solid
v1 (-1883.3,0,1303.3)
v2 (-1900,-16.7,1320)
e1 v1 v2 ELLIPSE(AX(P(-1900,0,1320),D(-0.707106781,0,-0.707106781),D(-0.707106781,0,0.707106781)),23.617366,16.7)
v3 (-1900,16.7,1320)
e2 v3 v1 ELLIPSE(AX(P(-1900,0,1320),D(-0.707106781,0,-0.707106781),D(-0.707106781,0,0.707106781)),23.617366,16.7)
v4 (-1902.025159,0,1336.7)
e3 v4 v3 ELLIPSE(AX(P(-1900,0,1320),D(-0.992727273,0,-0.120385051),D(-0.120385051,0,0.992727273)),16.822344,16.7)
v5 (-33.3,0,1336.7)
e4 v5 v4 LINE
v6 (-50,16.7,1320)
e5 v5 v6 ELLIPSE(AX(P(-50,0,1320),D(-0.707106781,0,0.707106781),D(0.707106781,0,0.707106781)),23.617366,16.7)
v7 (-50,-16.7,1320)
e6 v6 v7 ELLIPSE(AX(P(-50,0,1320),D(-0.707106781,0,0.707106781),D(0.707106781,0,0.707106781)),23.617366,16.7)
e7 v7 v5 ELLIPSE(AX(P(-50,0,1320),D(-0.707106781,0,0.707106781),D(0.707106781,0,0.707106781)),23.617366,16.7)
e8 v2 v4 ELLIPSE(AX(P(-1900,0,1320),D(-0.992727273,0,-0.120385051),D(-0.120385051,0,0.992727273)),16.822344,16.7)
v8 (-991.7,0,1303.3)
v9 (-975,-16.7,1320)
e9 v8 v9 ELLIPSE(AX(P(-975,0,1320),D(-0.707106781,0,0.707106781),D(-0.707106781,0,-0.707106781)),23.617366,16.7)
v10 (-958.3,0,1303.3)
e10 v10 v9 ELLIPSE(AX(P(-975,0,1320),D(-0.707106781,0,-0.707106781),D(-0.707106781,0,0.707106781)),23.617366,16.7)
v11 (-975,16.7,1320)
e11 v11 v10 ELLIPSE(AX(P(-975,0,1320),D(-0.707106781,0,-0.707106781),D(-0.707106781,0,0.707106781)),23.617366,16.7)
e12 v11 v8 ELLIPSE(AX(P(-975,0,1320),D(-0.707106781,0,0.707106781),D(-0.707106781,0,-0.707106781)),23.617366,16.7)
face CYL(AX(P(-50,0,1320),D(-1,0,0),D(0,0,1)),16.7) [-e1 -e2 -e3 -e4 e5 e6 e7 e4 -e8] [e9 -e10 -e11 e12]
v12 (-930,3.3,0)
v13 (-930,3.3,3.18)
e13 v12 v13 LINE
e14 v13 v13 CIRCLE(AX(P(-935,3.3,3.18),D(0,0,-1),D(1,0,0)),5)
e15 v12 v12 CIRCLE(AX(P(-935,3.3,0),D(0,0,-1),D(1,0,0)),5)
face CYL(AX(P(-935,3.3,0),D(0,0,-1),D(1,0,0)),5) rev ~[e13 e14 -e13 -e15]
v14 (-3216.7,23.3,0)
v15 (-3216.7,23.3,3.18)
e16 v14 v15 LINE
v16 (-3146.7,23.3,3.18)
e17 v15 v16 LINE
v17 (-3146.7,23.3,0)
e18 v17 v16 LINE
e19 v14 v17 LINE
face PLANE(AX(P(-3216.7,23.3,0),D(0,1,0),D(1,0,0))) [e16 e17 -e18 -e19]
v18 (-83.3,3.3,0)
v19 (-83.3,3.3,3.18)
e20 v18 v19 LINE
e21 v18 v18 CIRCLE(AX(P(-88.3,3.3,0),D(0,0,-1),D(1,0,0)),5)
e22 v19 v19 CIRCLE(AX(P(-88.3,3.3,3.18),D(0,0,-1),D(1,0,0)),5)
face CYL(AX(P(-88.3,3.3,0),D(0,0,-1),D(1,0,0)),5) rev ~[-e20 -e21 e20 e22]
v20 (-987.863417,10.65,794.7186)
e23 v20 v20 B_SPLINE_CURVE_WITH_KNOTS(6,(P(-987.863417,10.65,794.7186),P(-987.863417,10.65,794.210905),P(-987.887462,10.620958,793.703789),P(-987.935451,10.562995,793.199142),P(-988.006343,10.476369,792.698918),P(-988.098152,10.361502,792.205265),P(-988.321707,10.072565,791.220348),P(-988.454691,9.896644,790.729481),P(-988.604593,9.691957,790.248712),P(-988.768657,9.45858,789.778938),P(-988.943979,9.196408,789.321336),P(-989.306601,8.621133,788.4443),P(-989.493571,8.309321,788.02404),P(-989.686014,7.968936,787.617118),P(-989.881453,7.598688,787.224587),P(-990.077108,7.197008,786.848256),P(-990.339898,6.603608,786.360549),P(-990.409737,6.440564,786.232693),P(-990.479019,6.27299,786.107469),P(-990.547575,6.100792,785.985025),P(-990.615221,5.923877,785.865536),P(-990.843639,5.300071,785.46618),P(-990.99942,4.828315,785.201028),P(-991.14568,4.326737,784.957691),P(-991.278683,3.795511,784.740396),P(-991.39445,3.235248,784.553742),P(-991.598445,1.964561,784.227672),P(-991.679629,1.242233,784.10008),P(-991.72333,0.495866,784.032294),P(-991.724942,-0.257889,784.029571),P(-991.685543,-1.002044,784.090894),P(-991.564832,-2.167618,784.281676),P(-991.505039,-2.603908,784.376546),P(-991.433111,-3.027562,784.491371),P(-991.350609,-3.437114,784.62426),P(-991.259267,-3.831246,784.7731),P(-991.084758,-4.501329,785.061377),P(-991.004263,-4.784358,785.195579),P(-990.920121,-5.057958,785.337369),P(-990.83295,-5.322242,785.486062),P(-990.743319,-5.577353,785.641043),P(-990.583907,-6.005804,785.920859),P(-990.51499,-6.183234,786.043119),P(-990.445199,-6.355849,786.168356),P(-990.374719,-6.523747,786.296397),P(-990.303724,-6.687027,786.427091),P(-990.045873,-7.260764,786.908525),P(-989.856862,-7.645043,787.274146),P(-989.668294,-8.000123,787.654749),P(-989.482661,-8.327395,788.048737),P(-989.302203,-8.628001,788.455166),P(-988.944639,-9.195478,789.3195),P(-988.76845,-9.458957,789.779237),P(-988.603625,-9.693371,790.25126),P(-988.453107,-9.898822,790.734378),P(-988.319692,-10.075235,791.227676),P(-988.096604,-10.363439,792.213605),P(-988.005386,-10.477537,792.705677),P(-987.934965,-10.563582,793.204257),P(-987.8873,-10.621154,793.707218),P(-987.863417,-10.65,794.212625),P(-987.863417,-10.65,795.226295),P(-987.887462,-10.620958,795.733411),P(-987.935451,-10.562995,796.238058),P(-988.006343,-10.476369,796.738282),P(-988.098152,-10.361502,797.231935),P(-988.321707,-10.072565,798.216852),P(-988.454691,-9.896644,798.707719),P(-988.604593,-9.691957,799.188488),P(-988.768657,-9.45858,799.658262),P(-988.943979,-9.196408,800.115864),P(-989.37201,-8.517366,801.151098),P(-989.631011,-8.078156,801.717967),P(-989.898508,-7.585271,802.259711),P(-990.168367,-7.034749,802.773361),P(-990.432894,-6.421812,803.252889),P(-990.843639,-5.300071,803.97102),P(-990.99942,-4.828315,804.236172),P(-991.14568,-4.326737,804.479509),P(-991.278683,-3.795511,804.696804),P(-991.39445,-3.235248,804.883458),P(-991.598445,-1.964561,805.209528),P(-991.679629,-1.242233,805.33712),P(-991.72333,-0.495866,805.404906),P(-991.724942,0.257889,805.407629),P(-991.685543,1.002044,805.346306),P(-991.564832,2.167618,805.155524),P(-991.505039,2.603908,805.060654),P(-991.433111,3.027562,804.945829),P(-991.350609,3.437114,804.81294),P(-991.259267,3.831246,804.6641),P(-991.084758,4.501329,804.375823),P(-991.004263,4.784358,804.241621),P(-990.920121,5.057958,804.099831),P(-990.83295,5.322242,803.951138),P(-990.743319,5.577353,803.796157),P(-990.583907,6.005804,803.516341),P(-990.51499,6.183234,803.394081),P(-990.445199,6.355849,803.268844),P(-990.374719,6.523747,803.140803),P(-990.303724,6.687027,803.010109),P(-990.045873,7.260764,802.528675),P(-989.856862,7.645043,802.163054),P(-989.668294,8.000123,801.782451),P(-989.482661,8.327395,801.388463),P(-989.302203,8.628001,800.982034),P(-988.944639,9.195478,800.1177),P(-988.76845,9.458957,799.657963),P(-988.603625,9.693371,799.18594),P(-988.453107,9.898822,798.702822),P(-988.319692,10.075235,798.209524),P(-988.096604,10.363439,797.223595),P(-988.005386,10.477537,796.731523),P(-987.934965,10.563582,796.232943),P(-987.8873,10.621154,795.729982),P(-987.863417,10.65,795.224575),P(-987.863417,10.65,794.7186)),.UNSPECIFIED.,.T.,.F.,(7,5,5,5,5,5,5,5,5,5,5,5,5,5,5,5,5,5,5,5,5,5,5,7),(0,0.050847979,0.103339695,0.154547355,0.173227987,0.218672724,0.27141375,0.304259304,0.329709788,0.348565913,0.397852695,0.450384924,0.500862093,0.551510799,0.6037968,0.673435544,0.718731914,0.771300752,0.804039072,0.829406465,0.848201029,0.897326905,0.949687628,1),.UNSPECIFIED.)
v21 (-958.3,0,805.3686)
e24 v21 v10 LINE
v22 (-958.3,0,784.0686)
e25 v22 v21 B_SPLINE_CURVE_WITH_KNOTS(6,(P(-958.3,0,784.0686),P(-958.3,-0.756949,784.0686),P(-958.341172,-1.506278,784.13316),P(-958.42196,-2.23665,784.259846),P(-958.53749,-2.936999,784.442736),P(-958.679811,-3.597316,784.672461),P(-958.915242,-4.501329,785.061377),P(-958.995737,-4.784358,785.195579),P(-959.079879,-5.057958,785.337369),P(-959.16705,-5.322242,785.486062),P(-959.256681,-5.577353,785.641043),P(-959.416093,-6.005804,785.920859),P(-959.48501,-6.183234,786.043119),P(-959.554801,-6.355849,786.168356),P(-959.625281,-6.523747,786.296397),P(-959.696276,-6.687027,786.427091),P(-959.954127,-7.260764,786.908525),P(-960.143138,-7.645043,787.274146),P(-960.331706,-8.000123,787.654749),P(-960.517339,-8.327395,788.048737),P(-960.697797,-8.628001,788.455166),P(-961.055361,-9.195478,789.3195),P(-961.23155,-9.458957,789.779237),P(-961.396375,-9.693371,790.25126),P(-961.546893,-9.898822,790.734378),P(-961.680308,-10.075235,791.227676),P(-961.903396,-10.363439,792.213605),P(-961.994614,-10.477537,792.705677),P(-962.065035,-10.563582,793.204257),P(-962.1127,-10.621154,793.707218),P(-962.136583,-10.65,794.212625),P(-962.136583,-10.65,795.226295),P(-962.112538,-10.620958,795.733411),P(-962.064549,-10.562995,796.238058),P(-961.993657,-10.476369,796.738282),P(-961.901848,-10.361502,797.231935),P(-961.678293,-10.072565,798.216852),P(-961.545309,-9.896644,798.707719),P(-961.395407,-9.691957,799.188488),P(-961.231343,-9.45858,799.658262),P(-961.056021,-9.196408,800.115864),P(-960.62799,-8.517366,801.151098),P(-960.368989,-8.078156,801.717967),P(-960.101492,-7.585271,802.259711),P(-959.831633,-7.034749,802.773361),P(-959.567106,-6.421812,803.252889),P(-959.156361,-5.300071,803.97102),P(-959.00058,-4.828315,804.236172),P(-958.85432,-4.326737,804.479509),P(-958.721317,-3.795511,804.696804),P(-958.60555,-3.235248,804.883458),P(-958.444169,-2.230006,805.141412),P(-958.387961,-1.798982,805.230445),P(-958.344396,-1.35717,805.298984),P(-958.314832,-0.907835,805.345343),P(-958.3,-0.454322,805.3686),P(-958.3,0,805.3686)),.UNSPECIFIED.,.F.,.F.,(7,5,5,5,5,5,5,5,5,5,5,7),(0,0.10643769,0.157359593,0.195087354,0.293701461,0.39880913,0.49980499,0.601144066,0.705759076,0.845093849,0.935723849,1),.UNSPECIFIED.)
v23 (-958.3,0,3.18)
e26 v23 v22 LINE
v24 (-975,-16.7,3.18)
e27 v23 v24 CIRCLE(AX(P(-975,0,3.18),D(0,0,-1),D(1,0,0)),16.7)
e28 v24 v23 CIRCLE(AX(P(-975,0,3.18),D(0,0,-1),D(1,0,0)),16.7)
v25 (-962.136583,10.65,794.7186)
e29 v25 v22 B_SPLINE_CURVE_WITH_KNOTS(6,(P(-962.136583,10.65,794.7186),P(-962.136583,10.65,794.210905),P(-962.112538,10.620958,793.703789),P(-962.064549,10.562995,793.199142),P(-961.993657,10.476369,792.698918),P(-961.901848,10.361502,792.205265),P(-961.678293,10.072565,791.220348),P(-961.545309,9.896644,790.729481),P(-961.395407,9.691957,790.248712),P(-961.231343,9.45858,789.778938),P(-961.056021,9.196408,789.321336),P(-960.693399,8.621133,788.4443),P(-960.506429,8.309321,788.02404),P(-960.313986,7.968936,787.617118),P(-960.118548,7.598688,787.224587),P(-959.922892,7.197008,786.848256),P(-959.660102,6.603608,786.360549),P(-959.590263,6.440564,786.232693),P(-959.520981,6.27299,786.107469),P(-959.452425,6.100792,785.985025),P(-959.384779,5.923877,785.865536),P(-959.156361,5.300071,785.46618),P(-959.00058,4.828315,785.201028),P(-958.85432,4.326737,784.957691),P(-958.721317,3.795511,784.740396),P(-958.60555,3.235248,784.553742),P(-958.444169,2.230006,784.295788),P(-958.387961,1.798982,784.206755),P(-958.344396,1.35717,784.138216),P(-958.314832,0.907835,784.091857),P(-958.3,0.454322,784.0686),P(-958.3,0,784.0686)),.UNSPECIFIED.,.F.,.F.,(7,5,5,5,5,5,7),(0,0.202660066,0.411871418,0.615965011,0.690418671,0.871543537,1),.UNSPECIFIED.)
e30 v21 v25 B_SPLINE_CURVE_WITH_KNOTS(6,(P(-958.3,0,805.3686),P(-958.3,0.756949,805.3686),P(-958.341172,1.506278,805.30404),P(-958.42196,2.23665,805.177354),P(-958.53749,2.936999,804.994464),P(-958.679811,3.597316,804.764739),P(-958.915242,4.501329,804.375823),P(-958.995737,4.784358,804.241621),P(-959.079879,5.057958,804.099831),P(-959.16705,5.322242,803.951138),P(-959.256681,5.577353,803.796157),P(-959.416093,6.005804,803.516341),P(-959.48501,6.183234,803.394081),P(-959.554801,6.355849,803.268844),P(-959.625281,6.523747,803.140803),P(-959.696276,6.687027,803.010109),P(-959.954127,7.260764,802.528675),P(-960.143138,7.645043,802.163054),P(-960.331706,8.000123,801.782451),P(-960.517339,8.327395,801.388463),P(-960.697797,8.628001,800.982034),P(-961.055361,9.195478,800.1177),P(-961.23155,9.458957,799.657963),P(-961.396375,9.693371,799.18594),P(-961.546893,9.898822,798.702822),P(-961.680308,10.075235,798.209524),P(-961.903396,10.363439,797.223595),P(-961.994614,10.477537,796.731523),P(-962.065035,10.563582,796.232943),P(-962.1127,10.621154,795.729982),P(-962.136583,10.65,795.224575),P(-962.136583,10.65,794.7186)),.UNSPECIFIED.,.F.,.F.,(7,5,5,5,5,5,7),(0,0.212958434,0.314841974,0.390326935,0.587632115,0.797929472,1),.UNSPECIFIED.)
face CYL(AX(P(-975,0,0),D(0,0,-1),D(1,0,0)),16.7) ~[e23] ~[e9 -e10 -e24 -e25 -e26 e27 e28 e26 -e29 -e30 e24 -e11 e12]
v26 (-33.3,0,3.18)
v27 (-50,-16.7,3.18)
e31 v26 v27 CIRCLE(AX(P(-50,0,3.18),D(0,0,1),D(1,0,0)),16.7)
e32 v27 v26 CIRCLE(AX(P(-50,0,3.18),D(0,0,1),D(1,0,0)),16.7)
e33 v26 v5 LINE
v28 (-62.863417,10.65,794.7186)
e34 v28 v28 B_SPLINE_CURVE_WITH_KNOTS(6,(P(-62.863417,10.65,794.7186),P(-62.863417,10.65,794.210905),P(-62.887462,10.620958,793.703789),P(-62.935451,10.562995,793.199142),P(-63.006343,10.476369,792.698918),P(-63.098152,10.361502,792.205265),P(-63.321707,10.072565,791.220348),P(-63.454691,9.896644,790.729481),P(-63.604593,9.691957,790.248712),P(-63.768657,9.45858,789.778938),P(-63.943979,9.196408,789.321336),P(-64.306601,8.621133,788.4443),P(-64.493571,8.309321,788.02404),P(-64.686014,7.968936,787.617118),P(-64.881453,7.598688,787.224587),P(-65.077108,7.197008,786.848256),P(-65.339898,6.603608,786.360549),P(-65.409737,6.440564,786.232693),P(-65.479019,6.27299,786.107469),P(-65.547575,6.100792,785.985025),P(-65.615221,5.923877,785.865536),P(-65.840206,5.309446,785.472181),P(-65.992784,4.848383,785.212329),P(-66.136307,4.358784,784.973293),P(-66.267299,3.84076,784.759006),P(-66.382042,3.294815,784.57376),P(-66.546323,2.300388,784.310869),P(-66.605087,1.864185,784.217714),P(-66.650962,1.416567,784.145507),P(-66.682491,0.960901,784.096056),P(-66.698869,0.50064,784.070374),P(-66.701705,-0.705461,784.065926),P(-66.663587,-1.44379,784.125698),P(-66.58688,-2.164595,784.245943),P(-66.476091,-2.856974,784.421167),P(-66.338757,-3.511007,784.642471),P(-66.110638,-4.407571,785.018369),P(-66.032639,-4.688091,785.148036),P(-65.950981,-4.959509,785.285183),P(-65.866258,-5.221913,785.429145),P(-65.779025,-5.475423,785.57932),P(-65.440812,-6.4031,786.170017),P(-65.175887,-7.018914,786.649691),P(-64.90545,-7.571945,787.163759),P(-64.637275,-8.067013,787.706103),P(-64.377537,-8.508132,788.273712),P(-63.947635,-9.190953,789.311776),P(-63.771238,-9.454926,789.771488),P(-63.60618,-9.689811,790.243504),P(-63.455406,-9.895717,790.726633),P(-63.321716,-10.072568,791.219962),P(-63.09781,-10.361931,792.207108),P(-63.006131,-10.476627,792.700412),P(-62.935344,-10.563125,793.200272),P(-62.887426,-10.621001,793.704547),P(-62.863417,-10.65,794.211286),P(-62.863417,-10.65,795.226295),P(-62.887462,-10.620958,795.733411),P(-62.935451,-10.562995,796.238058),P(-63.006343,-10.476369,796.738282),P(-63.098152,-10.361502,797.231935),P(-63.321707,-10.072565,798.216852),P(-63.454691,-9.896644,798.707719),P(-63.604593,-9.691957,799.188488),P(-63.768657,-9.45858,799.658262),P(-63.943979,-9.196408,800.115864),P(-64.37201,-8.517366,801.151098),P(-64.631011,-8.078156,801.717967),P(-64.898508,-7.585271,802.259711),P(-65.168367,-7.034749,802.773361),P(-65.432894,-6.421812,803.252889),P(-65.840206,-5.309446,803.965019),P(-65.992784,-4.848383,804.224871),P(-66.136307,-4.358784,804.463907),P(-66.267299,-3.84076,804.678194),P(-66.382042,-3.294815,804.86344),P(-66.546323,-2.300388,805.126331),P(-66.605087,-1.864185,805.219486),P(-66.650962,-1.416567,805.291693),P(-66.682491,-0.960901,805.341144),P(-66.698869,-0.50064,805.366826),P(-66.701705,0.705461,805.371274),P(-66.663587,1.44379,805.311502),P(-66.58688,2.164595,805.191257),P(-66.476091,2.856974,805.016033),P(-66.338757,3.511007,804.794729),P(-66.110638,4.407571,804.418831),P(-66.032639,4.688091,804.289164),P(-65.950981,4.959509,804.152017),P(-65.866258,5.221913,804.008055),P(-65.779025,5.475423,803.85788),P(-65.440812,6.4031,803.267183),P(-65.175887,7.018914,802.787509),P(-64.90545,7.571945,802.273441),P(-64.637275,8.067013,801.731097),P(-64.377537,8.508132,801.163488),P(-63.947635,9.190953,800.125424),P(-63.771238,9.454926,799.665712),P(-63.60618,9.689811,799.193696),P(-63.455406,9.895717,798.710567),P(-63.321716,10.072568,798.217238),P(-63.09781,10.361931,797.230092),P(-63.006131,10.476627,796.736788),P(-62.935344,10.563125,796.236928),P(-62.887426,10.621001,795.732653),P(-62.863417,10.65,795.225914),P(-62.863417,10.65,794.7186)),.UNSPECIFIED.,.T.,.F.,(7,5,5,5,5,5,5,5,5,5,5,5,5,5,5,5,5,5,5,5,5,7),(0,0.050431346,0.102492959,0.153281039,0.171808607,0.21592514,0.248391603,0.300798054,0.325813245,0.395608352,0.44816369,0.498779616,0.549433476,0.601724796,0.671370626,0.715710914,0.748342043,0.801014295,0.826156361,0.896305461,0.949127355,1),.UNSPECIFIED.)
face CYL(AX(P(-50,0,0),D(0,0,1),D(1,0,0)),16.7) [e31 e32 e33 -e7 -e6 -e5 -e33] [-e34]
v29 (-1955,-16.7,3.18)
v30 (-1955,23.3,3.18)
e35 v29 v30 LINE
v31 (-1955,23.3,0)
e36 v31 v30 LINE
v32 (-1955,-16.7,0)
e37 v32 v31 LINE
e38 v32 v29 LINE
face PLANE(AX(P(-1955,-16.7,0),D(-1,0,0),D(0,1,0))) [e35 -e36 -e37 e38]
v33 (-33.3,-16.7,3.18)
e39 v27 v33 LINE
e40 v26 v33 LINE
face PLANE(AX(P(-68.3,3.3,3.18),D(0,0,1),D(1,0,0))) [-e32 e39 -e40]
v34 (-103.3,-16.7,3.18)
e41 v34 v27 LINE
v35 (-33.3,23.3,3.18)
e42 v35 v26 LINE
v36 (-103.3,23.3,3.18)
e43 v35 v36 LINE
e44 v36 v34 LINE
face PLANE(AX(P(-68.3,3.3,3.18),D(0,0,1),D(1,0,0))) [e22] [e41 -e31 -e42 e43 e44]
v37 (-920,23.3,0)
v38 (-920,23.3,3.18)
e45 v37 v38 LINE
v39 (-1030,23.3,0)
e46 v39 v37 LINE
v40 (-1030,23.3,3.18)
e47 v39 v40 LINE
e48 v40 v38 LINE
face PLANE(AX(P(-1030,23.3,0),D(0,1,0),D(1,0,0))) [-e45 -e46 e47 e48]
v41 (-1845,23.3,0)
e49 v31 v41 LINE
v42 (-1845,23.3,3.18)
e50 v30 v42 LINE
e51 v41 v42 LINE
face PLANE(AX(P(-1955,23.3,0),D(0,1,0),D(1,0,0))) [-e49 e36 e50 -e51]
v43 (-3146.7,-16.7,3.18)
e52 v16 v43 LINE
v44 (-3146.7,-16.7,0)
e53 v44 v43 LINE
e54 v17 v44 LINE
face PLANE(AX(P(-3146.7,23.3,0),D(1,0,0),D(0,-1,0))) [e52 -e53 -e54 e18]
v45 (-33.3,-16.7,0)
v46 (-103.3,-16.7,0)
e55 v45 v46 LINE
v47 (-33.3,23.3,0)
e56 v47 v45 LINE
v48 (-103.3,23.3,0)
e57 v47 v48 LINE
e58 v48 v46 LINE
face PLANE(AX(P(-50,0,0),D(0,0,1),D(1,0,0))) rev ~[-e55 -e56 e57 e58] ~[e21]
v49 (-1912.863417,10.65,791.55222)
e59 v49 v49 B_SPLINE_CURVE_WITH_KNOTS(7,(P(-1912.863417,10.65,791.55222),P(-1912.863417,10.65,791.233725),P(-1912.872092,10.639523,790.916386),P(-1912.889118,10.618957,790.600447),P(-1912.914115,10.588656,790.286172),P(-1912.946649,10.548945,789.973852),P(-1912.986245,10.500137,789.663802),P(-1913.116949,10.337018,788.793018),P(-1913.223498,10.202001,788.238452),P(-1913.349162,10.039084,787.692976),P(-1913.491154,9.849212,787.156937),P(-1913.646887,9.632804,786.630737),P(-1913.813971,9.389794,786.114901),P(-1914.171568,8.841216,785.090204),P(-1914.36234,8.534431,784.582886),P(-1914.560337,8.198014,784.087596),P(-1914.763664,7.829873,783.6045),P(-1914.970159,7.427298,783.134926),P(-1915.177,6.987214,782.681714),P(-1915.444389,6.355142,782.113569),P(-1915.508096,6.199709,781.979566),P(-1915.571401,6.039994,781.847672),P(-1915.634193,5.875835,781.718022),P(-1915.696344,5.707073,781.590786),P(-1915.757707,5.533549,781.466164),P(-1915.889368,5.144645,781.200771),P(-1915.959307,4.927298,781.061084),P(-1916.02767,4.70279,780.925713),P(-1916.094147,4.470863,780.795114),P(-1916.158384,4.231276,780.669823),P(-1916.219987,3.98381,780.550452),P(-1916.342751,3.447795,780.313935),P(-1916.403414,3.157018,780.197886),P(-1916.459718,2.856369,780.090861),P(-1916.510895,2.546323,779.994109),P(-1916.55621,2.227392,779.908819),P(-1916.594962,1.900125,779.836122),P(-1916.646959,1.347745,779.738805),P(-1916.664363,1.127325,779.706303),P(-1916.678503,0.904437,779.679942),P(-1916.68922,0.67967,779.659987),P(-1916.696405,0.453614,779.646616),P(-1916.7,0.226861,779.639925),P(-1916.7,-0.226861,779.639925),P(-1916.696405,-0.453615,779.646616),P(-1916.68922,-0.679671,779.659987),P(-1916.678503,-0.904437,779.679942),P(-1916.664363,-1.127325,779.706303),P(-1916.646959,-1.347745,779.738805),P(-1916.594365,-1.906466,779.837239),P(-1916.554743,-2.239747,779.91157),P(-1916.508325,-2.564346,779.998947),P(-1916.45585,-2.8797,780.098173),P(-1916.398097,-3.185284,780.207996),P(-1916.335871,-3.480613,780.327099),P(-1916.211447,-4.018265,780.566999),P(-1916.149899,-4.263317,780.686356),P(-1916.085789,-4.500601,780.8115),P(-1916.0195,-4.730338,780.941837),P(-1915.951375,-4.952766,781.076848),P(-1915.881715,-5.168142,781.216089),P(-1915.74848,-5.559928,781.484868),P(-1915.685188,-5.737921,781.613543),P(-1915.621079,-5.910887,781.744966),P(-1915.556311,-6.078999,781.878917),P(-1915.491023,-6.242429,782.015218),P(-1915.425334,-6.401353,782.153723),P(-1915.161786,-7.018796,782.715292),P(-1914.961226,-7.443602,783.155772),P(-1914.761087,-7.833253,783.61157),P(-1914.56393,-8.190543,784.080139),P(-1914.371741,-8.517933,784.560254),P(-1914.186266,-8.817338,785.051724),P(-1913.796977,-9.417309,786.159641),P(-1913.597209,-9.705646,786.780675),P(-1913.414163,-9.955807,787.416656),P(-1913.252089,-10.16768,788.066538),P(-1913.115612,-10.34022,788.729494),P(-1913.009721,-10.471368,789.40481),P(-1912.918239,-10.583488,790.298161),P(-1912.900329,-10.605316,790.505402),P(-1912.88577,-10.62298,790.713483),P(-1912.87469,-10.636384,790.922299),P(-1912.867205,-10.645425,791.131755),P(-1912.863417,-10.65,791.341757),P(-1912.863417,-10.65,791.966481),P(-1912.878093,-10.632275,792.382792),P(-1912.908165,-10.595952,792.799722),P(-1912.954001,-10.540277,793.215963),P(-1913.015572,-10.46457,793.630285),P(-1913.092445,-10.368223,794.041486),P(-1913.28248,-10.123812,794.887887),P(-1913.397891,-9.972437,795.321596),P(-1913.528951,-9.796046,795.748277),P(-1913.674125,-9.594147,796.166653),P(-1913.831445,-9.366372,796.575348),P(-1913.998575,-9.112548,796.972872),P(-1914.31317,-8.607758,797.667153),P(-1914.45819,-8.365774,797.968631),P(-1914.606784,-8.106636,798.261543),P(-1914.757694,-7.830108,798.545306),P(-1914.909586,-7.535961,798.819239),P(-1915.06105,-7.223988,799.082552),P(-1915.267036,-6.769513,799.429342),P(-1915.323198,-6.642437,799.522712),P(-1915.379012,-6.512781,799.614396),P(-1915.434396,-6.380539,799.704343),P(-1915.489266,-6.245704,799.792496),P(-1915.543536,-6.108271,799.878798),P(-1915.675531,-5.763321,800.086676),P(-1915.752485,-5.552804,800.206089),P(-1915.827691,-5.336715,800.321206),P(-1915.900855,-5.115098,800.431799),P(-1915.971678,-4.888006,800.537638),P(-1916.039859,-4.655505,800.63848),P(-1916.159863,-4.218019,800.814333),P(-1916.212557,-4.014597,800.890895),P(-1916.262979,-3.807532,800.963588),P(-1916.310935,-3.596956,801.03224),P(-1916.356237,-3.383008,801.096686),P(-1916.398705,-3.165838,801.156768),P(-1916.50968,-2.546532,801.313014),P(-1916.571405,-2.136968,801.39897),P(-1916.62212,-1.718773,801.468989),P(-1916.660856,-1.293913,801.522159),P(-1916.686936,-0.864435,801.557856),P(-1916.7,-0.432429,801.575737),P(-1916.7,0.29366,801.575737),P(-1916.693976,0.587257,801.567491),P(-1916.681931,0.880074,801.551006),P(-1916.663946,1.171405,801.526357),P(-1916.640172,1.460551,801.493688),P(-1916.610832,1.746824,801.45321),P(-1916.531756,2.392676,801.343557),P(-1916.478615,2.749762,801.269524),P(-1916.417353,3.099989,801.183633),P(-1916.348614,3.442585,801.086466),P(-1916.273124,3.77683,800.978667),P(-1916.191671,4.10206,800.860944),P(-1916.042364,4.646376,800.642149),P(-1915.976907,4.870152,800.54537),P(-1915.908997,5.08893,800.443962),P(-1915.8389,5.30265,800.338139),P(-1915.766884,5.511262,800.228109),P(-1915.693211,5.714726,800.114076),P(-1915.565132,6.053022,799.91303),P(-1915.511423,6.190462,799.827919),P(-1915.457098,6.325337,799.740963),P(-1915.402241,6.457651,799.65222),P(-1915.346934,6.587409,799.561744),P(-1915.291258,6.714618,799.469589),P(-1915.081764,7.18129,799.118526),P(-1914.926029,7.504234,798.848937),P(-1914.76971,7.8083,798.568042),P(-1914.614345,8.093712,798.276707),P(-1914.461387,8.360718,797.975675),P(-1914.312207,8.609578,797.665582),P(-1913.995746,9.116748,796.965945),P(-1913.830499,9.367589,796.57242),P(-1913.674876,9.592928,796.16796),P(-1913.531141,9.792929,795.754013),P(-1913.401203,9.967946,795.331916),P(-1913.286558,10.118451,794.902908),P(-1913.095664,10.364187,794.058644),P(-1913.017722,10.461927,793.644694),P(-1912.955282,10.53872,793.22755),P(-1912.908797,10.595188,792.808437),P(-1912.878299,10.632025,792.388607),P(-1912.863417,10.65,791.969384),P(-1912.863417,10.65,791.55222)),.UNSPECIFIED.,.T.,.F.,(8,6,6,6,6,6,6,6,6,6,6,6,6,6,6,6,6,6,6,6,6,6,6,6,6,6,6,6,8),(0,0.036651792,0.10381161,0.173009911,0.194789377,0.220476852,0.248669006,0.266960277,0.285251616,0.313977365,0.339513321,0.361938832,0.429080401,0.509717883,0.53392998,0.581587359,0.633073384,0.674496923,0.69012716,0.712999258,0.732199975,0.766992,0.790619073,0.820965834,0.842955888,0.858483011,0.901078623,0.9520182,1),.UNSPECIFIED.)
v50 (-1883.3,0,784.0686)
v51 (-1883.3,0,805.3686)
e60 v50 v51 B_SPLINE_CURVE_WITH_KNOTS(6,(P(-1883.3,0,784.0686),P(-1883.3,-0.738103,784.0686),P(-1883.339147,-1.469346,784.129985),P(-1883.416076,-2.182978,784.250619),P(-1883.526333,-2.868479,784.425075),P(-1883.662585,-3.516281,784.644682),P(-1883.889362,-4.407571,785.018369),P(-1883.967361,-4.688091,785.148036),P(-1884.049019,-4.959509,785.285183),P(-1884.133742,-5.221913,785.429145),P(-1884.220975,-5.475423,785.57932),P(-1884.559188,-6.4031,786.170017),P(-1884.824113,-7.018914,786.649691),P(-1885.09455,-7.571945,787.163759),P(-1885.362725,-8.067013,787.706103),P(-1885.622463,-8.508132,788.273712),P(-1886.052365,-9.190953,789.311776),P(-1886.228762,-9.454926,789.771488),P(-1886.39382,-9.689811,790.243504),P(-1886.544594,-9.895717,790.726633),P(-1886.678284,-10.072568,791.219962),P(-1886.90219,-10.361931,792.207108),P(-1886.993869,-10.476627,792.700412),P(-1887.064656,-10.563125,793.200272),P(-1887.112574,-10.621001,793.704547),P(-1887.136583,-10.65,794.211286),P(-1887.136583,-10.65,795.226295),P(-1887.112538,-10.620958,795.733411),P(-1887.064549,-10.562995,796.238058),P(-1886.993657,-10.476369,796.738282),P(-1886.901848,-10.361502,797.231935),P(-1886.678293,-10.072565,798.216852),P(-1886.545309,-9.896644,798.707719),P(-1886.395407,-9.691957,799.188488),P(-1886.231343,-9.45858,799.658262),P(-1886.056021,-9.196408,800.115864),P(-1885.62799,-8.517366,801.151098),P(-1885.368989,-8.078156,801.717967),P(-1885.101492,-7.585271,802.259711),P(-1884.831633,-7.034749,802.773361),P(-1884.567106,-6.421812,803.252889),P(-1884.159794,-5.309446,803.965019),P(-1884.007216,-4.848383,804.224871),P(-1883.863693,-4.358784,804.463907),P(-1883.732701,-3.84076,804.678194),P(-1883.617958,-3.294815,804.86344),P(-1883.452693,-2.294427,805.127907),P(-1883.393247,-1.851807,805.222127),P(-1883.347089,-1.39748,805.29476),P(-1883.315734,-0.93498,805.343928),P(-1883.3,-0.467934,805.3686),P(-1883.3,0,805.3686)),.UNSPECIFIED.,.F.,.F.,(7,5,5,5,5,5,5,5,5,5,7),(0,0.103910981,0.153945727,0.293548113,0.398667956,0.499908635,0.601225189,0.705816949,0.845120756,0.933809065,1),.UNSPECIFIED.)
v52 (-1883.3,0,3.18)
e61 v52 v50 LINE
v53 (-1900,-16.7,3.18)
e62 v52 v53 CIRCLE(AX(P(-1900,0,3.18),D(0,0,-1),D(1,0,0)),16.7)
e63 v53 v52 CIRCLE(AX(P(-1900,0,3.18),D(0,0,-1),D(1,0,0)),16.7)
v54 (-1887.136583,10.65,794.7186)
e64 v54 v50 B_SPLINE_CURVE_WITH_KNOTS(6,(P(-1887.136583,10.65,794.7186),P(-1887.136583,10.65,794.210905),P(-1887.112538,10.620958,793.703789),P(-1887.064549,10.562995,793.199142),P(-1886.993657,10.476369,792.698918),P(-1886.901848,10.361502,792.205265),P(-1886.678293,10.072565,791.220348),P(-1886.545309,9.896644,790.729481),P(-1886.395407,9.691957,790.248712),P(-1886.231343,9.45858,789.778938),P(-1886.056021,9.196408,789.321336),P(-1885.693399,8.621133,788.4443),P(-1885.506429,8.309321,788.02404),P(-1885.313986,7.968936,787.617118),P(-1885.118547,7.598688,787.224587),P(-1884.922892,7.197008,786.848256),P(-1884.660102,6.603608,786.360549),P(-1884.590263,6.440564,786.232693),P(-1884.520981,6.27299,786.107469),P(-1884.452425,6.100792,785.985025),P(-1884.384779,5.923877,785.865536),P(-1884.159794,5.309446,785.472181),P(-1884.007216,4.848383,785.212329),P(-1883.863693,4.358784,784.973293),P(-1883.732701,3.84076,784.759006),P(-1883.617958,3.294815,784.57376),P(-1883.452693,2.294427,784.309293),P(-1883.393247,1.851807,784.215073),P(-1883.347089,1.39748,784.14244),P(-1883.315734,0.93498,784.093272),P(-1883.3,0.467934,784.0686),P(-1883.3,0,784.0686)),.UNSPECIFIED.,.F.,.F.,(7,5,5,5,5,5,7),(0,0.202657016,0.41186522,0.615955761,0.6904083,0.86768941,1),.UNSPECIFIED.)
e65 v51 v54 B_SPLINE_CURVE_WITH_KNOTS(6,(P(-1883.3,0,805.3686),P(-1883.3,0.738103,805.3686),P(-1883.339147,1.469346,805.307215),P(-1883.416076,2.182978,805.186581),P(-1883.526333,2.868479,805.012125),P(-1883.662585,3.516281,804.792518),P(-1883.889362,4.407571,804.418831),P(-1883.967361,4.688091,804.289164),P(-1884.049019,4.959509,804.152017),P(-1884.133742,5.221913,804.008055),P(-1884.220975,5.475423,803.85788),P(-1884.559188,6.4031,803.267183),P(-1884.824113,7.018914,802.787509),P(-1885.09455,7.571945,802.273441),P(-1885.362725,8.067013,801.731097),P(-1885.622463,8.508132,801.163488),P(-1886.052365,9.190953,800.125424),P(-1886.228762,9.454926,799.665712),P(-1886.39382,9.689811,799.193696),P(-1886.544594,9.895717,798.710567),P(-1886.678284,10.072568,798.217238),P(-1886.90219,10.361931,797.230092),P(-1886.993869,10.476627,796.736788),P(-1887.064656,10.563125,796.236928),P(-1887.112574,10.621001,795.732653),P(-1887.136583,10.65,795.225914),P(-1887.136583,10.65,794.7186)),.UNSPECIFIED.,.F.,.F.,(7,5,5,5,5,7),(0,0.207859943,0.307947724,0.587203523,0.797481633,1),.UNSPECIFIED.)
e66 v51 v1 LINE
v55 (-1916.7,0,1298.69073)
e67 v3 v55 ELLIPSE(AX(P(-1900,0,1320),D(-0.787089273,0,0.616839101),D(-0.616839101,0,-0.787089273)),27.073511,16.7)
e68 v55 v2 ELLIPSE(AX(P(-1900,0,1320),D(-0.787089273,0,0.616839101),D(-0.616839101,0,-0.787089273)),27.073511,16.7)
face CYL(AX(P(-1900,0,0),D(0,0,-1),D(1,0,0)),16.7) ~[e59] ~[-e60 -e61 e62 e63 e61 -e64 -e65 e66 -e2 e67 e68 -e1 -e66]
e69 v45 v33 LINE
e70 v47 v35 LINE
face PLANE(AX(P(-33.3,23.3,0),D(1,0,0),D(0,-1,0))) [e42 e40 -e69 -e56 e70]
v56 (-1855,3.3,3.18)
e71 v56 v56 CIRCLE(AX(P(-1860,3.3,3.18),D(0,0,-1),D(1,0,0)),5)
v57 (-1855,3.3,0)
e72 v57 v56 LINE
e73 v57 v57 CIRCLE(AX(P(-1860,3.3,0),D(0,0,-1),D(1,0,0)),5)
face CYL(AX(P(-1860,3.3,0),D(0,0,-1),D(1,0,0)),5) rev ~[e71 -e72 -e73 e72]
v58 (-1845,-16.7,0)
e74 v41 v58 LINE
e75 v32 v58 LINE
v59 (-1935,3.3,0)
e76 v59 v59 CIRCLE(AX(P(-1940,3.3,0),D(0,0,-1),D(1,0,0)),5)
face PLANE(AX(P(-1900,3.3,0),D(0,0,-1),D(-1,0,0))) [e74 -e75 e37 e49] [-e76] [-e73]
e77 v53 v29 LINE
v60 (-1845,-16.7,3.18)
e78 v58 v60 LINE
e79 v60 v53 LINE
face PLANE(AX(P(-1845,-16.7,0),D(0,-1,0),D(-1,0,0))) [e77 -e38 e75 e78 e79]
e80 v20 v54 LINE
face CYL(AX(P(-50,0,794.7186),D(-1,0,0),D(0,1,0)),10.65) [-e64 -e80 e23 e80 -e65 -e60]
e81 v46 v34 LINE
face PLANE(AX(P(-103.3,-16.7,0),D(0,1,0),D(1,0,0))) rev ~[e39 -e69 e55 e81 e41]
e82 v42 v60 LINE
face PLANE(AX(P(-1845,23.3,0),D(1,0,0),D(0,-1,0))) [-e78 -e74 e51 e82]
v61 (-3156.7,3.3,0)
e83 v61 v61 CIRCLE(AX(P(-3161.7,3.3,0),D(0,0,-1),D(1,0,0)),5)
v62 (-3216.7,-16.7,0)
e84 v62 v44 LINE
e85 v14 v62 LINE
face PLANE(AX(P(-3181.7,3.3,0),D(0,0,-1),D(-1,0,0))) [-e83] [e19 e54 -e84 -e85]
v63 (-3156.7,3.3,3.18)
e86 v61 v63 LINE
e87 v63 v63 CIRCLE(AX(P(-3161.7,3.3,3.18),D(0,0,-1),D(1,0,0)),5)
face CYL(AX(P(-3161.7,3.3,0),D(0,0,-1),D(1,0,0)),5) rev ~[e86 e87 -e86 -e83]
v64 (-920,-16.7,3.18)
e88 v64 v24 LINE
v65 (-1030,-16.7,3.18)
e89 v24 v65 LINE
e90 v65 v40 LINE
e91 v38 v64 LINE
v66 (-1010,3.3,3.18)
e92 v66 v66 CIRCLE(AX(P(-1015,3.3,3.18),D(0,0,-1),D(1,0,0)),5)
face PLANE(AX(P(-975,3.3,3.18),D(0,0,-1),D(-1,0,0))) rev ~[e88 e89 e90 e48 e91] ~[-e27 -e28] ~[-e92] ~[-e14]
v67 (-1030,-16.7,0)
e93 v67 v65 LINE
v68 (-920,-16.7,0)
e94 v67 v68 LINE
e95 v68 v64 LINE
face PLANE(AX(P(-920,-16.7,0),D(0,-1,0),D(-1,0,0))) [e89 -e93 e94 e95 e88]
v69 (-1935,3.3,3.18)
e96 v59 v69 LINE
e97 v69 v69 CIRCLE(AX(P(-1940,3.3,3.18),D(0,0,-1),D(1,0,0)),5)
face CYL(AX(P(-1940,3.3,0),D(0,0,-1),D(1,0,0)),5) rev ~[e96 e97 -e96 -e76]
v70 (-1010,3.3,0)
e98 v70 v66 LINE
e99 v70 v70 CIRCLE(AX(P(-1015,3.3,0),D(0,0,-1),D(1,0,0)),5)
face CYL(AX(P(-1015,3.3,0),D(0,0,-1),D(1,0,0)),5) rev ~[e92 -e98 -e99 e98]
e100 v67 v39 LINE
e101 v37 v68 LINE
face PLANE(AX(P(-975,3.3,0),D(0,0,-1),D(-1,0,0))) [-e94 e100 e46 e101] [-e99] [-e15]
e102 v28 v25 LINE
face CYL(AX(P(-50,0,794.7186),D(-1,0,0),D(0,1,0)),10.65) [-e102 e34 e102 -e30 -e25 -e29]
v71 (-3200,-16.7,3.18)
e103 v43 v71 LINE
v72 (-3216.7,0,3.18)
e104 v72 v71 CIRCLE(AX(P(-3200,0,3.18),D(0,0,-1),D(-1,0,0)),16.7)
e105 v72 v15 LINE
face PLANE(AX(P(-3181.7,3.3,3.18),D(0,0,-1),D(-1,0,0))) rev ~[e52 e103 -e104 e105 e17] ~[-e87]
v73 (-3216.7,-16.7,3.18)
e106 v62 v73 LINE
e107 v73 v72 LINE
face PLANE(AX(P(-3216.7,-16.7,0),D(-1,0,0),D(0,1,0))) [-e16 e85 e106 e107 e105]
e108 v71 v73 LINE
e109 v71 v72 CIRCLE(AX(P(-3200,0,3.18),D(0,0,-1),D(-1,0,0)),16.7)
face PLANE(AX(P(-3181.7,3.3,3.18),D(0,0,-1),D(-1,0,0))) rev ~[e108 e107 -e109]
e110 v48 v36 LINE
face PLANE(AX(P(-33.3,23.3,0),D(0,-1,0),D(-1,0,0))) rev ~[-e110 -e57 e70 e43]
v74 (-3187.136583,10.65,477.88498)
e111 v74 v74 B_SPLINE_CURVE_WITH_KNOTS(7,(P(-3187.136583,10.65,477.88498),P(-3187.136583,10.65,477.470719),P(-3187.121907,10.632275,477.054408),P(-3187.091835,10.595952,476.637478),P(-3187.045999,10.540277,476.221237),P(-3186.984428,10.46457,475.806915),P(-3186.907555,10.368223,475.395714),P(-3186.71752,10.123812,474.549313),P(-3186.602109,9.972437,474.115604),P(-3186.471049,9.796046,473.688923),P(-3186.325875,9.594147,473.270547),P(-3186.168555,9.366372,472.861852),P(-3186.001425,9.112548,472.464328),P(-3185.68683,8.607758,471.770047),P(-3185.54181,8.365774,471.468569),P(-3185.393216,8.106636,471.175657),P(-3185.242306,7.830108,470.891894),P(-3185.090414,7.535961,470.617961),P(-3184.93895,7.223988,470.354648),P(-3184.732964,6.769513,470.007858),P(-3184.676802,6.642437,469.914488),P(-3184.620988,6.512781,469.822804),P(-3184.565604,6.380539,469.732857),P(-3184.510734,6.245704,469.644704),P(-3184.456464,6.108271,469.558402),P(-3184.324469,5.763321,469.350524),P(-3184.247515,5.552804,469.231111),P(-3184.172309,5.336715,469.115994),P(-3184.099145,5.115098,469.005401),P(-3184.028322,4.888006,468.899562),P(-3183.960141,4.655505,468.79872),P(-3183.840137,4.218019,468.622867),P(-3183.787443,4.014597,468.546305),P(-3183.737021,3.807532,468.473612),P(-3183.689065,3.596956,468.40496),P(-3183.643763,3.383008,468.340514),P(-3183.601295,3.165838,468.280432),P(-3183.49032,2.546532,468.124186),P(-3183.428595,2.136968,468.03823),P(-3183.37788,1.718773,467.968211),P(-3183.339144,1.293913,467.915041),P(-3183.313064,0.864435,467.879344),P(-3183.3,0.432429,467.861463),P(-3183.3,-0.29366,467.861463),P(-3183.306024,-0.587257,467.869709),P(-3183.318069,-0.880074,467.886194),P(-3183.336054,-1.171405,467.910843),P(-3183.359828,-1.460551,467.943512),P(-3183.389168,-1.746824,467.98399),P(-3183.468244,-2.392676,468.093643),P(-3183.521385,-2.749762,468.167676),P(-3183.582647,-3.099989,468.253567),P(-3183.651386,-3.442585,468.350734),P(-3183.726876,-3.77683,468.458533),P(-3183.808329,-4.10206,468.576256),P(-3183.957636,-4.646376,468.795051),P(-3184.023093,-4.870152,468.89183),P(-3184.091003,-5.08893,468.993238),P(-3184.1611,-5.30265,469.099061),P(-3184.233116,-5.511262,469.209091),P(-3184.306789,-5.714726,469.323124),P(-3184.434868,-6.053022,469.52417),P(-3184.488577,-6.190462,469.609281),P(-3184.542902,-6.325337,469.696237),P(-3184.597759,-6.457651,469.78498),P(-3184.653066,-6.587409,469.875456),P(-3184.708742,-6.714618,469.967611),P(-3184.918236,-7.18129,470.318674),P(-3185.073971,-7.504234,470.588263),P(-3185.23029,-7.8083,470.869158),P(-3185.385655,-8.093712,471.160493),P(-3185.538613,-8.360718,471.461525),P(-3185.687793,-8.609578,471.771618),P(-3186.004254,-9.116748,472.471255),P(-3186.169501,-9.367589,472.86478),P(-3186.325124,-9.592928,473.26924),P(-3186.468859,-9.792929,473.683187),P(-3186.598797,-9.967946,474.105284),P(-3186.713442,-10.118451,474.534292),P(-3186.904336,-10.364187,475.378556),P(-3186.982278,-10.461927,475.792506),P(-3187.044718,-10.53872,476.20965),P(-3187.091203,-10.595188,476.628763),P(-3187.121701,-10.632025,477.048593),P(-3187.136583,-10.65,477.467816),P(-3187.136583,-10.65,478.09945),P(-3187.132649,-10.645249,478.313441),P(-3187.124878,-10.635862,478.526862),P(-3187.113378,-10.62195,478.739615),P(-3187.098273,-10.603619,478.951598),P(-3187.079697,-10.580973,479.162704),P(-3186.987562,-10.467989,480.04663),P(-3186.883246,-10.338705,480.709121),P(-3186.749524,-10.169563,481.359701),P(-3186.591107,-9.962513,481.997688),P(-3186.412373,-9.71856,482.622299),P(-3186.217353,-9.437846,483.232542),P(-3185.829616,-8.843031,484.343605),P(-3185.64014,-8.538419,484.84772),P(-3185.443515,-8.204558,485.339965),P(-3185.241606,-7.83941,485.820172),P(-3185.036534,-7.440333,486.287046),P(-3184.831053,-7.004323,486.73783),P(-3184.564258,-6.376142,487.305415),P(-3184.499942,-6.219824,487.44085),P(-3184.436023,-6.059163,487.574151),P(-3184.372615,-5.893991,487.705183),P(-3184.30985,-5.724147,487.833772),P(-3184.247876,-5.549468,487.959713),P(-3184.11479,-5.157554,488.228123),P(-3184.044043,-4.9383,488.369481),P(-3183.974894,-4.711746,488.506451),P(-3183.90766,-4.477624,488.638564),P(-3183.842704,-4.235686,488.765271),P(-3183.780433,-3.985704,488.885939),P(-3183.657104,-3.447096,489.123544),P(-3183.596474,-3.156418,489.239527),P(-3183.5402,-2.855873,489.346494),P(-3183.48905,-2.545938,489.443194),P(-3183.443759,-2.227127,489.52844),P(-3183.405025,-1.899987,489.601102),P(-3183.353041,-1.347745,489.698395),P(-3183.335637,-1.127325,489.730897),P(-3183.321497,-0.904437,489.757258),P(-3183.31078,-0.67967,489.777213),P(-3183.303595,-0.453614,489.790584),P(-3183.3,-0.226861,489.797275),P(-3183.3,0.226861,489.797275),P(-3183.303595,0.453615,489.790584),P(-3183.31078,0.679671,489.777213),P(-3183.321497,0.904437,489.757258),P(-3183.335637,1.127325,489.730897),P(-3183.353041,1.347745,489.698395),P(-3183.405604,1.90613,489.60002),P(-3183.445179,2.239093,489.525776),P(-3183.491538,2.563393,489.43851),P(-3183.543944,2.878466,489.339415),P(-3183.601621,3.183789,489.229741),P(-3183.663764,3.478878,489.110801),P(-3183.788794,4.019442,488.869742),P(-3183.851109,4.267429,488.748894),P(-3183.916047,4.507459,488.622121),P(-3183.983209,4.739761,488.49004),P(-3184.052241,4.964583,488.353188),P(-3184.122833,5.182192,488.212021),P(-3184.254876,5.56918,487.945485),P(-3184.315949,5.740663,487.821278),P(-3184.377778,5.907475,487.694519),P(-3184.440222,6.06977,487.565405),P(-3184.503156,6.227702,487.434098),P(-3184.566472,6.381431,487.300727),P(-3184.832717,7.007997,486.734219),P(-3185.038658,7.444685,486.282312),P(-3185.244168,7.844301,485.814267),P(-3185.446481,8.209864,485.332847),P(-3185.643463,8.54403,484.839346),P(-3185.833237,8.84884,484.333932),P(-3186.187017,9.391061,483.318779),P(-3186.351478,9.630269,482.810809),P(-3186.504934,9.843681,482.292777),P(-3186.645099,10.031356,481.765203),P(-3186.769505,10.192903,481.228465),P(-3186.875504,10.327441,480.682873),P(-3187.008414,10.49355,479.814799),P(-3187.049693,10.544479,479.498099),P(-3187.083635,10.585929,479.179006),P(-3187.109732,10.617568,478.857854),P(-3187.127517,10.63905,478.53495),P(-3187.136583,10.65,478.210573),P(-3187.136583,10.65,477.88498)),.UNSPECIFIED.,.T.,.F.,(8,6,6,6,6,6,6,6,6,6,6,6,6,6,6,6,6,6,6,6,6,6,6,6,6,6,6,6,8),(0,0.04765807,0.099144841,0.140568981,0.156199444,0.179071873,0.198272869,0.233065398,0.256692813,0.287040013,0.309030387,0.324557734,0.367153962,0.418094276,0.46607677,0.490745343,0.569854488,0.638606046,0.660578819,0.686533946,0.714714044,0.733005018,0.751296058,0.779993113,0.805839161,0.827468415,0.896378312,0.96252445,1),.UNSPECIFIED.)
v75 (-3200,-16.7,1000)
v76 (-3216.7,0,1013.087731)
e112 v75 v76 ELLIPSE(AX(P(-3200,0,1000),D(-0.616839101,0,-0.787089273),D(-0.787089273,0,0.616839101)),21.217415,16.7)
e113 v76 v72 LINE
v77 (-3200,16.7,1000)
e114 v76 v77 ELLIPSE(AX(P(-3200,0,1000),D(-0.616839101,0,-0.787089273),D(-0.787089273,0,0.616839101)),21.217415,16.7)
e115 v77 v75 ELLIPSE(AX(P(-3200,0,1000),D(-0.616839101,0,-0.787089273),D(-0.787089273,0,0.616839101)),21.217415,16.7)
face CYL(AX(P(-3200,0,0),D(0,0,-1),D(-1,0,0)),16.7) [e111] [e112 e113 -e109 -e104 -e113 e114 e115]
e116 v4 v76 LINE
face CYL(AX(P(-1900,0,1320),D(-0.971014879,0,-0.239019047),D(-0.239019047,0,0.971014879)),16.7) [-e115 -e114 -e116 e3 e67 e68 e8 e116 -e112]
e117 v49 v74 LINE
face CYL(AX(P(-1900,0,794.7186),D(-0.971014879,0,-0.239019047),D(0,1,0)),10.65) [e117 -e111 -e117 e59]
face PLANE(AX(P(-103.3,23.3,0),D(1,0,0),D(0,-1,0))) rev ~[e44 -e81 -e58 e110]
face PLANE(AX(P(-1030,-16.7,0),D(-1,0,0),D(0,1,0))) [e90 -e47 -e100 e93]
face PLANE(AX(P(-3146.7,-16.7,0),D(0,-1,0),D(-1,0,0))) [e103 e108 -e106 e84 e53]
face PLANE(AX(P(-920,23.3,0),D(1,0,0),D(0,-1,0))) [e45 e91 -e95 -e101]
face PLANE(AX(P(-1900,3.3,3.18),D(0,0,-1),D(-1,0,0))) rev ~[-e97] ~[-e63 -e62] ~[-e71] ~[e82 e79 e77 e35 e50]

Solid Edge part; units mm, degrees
sketch "Sketch1" plane through (0, 0, 0) normal (0, -1, 0) x (1, 0, 0)
  line L0 (-50, 0) -> (-50, 1320)
  line L1 (-50, 1320) -> (-1900, 1320)
  line L2 (-1900, 1320) -> (-3200, 1000)
  line L3 (-3200, 0) -> (-3200, 1000)
  dimension "D1" = 1000
  dimension "D2" = 3150
  dimension "D3" = 50
  dimension "D4" = 1320
  dimension "D5" = 1850
sketch "Sketch2" plane through (0, 0, 0) normal (0, 0, 1) x (1, 0, 0)
  circle A0 centre (-50, 0) radius 16.7
  dimension "D1" = 33.4
sweep "SweptProtrusion_1" add profiles "Sketch2" path "Sketch1"
sketch "Sketch3" plane through (0, 0, 0) normal (0, 0, 1) x (1, 0, 0)
  line L0 (-3216.7, 23.3) -> (-3146.7, 23.3)
  line L1 (-3146.7, 23.3) -> (-3146.7, -16.7)
  line L2 (-3146.7, -16.7) -> (-3216.7, -16.7)
  line L3 (-3216.7, -16.7) -> (-3216.7, 23.3)
  line L4 (-1955, 23.3) -> (-1845, 23.3)
  line L5 (-1845, 23.3) -> (-1845, -16.7)
  line L6 (-1845, -16.7) -> (-1955, -16.7)
  line L7 (-1955, -16.7) -> (-1955, 23.3)
  line L8 (-1030, 23.3) -> (-920, 23.3)
  line L9 (-920, 23.3) -> (-920, -16.7)
  line L10 (-920, -16.7) -> (-1030, -16.7)
  line L11 (-1030, -16.7) -> (-1030, 23.3)
  line L12 (-103.3, -16.7) -> (-33.3, -16.7)
  line L13 (-33.3, 23.3) -> (-33.3, -16.7)
  line L14 (-33.3, 23.3) -> (-103.3, 23.3)
  line L15 (-103.3, 23.3) -> (-103.3, -16.7)
  dimension "D1" = 70
  dimension "D2" = 40
  dimension "D3" = 110
  dimension "D4" = 40
  dimension "D5" = 40
  dimension "D6" = 110
  dimension "D7" = 925
  dimension "D8" = 70
  dimension "D9" = 925
extrude "ExtrudedProtrusion_1" add sketch "Sketch3" along normal blind 3.18
sketch "Sketch4" plane through (0, 0, 0) normal (0, 0, 1) x (1, 0, 0)
  circle A0 centre (-1900, 0) radius 16.7
  circle A1 centre (-975, 0) radius 16.7
  dimension "D1" = 975
  dimension "D2" = 925
extrude "Protrusion1" add sketch "Sketch4" along normal up to vertex (1320 mm away)
sketch "Sketch5" plane through (0, 0, 0) normal (0, -1, 0) x (1, 0, 0)
  line L0 (-50, 794.7186) -> (-1900, 794.7186)
  line L1 (-1900, 794.7186) -> (-3200, 474.7186)
  dimension "D1" = 1000
  dimension "D2" = 3150
  dimension "D3" = 50
  dimension "D4" = 1320
  dimension "D5" = 1850
sketch "Sketch6" plane through (-50, 0, 780) normal (1, 0, 0) x (0, 1, 0)
  circle A0 centre (0, 14.7186) radius 10.65
sweep "SweptProtrusion_2" add profiles "Sketch6" path "Sketch5"
sketch "Sketch7" plane through (-975, 3.3, 0) normal (0, 0, -1) x (1, 0, 0)
  circle A0 centre (-40, 0) radius 5
  circle A1 centre (40, 0) radius 5
  circle A2 centre (886.7, 0) radius 5
  circle A3 centre (-885, 0) radius 5
  circle A4 centre (-965, 0) radius 5
  circle A5 centre (-2186.7, 0) radius 5
  dimension "D1" = 15
  dimension "D2" = 10
  dimension "D3" = 15
  dimension "D4" = 15
  dimension "D5" = 10
  dimension "D6" = 10
  dimension "D7" = 15
  dimension "D8" = 15
  dimension "D9" = 10
  dimension "D10" = 10
  dimension "D11" = 10
  dimension "D12" = 15
extrude "Cutout1" cut sketch "Sketch7" against normal up to next
